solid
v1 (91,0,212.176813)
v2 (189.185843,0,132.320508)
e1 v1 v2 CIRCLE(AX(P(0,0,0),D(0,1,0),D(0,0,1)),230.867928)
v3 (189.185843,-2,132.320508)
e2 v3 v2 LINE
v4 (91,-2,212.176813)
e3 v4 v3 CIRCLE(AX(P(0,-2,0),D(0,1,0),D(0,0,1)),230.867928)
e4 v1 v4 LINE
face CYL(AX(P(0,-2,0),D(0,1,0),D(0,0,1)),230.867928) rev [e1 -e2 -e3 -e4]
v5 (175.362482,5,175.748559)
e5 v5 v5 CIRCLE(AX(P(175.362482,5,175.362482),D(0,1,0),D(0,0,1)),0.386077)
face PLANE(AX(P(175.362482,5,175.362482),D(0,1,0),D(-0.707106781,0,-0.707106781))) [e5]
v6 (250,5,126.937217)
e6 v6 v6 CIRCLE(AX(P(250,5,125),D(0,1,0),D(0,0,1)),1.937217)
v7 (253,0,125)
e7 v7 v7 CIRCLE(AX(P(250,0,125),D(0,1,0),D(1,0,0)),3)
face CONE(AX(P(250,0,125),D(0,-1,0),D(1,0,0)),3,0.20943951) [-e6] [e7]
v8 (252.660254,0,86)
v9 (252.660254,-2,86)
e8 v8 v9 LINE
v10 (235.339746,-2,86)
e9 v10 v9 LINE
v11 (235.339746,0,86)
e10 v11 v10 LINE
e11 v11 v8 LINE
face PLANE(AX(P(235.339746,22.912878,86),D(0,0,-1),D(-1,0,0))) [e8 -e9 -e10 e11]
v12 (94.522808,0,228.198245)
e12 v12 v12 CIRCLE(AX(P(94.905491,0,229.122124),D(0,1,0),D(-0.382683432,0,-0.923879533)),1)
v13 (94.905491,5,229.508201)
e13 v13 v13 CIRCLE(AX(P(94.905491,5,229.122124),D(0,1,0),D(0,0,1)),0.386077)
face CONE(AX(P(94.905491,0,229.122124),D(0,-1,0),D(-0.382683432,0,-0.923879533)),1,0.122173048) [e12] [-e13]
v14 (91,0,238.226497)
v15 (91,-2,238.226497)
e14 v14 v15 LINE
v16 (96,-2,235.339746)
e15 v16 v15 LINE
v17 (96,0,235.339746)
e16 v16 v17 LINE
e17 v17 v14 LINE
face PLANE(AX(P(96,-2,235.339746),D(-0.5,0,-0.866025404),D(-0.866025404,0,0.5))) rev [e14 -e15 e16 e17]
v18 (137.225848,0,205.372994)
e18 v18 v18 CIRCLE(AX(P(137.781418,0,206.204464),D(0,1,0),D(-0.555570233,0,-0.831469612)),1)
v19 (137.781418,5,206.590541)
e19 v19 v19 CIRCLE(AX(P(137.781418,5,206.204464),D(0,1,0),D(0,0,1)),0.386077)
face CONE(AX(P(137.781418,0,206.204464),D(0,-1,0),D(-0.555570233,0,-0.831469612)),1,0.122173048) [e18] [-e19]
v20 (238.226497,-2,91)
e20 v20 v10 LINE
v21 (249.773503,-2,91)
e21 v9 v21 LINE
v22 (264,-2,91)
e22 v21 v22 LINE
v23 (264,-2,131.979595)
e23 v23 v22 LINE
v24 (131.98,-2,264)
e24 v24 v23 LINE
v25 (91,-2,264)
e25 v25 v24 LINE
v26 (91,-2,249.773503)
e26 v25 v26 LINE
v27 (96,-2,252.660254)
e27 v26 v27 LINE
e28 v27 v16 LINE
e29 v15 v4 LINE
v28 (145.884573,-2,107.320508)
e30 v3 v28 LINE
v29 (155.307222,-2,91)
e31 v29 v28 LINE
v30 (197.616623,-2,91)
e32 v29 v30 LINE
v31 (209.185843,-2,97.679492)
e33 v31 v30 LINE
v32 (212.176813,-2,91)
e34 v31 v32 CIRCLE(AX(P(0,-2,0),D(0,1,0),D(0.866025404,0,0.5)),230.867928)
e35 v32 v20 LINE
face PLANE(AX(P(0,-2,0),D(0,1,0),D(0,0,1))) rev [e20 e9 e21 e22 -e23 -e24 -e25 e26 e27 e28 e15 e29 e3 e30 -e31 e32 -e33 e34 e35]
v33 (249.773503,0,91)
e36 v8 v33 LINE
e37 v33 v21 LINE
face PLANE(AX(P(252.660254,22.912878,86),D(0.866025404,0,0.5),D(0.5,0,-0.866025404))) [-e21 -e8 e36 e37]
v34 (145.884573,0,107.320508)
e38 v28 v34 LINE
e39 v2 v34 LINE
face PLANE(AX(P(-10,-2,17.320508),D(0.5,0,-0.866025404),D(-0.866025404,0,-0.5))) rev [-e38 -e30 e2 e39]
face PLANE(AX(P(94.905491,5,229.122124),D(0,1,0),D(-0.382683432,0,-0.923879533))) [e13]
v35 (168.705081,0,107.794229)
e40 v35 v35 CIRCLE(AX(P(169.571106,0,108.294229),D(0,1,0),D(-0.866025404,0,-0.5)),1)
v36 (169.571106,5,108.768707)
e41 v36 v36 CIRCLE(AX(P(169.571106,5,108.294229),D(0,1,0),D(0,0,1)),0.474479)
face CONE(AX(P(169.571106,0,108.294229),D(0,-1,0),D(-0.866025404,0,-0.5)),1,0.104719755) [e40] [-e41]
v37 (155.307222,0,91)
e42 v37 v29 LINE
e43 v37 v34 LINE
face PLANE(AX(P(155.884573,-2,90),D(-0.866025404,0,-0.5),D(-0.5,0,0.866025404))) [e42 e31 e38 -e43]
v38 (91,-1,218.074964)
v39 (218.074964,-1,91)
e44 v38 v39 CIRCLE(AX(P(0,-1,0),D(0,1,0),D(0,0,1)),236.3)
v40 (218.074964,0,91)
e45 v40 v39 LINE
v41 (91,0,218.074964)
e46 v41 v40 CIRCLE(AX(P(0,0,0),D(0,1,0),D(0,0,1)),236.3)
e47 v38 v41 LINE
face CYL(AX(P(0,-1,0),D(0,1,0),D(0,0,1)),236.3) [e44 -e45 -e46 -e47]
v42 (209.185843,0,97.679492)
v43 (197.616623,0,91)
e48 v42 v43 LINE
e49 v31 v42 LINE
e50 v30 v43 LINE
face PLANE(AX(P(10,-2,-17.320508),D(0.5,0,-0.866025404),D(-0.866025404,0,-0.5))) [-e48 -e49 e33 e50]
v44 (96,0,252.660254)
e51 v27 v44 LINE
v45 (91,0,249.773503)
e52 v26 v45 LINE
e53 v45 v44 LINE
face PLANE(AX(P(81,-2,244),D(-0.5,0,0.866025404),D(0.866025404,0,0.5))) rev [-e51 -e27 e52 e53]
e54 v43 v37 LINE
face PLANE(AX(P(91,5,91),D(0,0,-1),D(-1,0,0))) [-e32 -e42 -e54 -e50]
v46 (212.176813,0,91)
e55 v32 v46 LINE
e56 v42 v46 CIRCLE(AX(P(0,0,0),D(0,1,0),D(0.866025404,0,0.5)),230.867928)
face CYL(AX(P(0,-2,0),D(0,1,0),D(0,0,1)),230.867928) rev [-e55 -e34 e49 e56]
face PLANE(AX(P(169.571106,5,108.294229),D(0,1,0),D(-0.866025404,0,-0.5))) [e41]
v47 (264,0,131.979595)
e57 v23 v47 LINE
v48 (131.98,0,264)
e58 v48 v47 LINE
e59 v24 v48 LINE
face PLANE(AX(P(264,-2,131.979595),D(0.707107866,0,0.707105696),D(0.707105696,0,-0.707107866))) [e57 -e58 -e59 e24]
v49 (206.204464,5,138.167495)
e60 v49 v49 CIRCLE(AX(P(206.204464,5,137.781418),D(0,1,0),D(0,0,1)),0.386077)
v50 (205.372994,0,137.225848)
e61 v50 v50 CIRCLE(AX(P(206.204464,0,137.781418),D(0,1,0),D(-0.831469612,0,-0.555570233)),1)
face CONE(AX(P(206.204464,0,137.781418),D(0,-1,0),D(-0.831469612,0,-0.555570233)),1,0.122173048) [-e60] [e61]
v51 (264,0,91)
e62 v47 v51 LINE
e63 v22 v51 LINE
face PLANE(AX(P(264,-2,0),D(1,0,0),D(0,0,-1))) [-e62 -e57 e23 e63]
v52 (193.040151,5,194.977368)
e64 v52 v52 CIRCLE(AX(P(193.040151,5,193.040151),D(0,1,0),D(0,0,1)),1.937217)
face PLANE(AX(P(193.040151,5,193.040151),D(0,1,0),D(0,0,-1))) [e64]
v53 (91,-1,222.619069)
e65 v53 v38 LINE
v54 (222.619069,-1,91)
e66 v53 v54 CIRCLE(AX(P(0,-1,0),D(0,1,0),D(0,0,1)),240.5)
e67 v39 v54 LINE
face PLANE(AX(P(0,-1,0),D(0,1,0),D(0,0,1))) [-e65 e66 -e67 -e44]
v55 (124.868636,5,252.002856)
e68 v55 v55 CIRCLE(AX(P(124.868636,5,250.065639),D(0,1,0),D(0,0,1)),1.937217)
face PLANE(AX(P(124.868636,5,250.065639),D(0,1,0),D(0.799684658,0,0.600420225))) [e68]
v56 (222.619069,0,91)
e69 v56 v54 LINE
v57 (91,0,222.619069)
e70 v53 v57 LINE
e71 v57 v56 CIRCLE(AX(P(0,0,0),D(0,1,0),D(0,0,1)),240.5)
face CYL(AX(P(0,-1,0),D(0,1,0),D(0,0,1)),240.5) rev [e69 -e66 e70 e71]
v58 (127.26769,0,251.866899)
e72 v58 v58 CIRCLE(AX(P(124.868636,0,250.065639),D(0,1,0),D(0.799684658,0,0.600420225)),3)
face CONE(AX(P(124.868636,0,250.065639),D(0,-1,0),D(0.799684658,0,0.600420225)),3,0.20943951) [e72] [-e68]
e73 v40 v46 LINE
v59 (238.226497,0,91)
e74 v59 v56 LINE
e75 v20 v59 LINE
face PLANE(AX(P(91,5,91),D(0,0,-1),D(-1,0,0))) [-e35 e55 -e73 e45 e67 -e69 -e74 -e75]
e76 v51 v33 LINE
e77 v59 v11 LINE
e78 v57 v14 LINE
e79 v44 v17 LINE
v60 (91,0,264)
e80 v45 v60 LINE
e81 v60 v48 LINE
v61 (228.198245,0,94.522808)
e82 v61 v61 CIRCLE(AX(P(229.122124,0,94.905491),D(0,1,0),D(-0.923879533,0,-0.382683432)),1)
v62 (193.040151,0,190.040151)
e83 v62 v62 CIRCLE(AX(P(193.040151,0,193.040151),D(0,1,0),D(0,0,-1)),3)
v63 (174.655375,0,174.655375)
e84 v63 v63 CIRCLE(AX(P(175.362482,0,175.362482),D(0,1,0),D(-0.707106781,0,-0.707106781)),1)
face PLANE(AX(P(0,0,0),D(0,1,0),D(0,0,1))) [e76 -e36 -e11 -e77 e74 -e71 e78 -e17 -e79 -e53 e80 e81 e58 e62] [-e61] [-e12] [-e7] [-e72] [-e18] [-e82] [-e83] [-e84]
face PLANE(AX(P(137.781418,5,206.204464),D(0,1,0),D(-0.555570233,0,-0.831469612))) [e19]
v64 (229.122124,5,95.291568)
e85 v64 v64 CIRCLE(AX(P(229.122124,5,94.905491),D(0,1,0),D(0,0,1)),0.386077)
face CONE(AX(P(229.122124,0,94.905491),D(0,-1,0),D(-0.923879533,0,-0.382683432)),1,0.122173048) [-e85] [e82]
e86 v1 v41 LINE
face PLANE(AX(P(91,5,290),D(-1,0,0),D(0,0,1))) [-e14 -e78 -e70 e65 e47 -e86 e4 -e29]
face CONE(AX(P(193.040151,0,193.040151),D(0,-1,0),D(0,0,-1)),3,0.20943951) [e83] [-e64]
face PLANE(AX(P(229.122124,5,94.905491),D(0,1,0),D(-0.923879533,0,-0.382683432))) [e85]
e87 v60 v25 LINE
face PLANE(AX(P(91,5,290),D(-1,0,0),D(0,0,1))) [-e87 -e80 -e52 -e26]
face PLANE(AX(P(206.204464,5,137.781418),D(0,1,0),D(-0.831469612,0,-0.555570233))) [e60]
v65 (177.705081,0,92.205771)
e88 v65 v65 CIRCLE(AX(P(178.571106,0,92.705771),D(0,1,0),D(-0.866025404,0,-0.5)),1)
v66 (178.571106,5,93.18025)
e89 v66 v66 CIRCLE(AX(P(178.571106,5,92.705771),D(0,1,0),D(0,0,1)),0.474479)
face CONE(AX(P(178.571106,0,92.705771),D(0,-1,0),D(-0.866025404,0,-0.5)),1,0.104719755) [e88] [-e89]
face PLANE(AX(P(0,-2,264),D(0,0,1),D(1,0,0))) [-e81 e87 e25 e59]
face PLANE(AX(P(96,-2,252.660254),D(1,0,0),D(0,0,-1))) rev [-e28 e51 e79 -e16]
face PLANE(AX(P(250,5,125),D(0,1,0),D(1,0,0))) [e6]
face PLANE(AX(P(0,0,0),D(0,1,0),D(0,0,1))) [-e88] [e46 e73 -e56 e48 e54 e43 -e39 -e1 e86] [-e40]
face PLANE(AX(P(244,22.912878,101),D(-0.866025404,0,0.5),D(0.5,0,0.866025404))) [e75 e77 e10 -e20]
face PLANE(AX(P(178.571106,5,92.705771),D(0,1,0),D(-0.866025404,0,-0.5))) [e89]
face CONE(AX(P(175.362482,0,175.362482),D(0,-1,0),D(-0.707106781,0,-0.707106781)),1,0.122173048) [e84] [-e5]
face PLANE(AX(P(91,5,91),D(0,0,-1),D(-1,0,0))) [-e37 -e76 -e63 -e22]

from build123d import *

# Parameters (mm, degrees)
BASEPLATE_PROFILE_DEPTH               = 2
SKETCH2_R                             = 1
M3_PINS_DEPTH                         = 5
M3_PINS_TAPER                         = 7
CIRPATTERN1_COUNT                     = 32
SKETCH4_R                             = 1
PILLAR_PINS_DEPTH                     = 5
PILLAR_PINS_DRAFT                     = 6
PILLAR_PINS_PROFILE_2_DEPTH           = 5
PILLAR_PINS_PROFILE_2_DRAFT           = 6
CIRPATTERN2_COPY_1_SKETCH_R           = 1
CIRPATTERN2_COPY_1_DEPTH              = 5
CIRPATTERN2_COPY_1_DRAFT              = 6
CIRPATTERN2_COPY_2_SKETCH_R           = 1
CIRPATTERN2_COPY_2_DEPTH              = 5
CIRPATTERN2_COPY_2_DRAFT              = 6
CIRPATTERN2_COPY_3_SKETCH_R           = 1
CIRPATTERN2_COPY_3_DEPTH              = 5
CIRPATTERN2_COPY_3_DRAFT              = 6
CIRPATTERN2_COPY_4_SKETCH_R           = 1
CIRPATTERN2_COPY_4_DEPTH              = 5
CIRPATTERN2_COPY_4_DRAFT              = 6
CIRPATTERN2_COPY_5_SKETCH_R           = 1
CIRPATTERN2_COPY_5_DEPTH              = 5
CIRPATTERN2_COPY_5_DRAFT              = 6
CIRPATTERN2_COPY_6_SKETCH_R           = 1
CIRPATTERN2_COPY_6_DEPTH              = 5
CIRPATTERN2_COPY_6_DRAFT              = 6
CIRPATTERN2_COPY_7_SKETCH_R           = 1
CIRPATTERN2_COPY_7_DEPTH              = 5
CIRPATTERN2_COPY_7_DRAFT              = 6
CIRPATTERN2_COPY_8_SKETCH_R           = 1
CIRPATTERN2_COPY_8_DEPTH              = 5
CIRPATTERN2_COPY_8_DRAFT              = 6
CIRPATTERN2_COPY_9_SKETCH_R           = 1
CIRPATTERN2_COPY_9_DEPTH              = 5
CIRPATTERN2_COPY_9_DRAFT              = 6
CIRPATTERN2_COPY_10_SKETCH_R          = 1
CIRPATTERN2_COPY_10_DEPTH             = 5
CIRPATTERN2_COPY_10_DRAFT             = 6
CIRPATTERN2_COPY_11_SKETCH_R          = 1
CIRPATTERN2_COPY_11_DEPTH             = 5
CIRPATTERN2_COPY_11_DRAFT             = 6
CIRPATTERN2_COPY_12_SKETCH_R          = 1
CIRPATTERN2_COPY_12_DEPTH             = 5
CIRPATTERN2_COPY_12_DRAFT             = 6
CIRPATTERN2_COPY_13_SKETCH_R          = 1
CIRPATTERN2_COPY_13_DEPTH             = 5
CIRPATTERN2_COPY_13_DRAFT             = 6
CIRPATTERN2_COPY_14_SKETCH_R          = 1
CIRPATTERN2_COPY_14_DEPTH             = 5
CIRPATTERN2_COPY_14_DRAFT             = 6
CIRPATTERN2_COPY_15_SKETCH_R          = 1
CIRPATTERN2_COPY_15_DEPTH             = 5
CIRPATTERN2_COPY_15_DRAFT             = 6
SKETCH5_R                             = 3
M8_HOLE_1_DEPTH                       = 5
M8_HOLE_1_TAPER                       = 12
M8_1_PATTERN_COUNT                    = 4
SKETCH6_R                             = 3
EXTRUDE_M8_2_DEPTH                    = 5
EXTRUDE_M8_2_TAPER                    = 12
M8_2_PATTERN_COUNT                    = 4
PATTERN_CIRCULAR_M8_3_COUNT           = 2
PATTERN_CIRCULAR_M8_3_ANGLE           = 36.9
PATTERN_CIRCULAR_M8_3_COPY_1_SKETCH_R = 3
PATTERN_CIRCULAR_M8_3_COPY_1_DEPTH    = 5
PATTERN_CIRCULAR_M8_3_COPY_1_TAPER    = 12
PATTERN_CIRCULAR_M8_3_COPY_2_SKETCH_R = 3
PATTERN_CIRCULAR_M8_3_COPY_2_DEPTH    = 5
PATTERN_CIRCULAR_M8_3_COPY_2_TAPER    = 12
PATTERN_CIRCULAR_M8_3_COPY_3_SKETCH_R = 3
PATTERN_CIRCULAR_M8_3_COPY_3_DEPTH    = 5
PATTERN_CIRCULAR_M8_3_COPY_3_TAPER    = 12
CUT_CENTER_DEPTH                      = 374.385859402
CIRPATTERN7_COUNT                     = 6
SKETCH16_W                            = 706.015434107
SKETCH16_H                            = 962.246603821
SKETCH16_W_2                          = 199
SKETCH16_H_2                          = 199
CUT_EXTRUDE4_DEPTH                    = 374.417996354
CUT_EXTRUDE5_DEPTH                    = 374.385859402
BOSS_EXTRUDE3_DEPTH                   = 2
SKETCH20_R                            = 240.5
SKETCH20_R_2                          = 236.3
CUT_EXTRUDE6_DEPTH                    = 1


with BuildPart() as part:
    # Sketch1 → baseplate profile (new body)
    with BuildSketch(Plane(origin=(0, 0, 0), x_dir=(1, 0, 0), z_dir=(0, 1, 0))):
        Polygon((264, 0), (264, 131.98), (131.979594929, 264), (0, 264), (-131.98, 264), (-264, 131.979594929), (-264, 0), (-264, -131.98), (-131.979594929, -264), (0, -264), (131.98, -264), (264, -131.979594929), align=None)
    extrude(amount=-BASEPLATE_PROFILE_DEPTH)

    # Sketch2 → M3 pins (add)
    with BuildSketch(Plane(origin=(0, 0, 0), x_dir=(1, 0, 0), z_dir=(0, 1, 0))):
        with Locations((0, 248)):
            Circle(SKETCH2_R)
    m3_pins = extrude(amount=M3_PINS_DEPTH, taper=M3_PINS_TAPER)

    # CirPattern1: M3 pins ×32 about axis
    cirpattern1_axis = Axis((0, 0, 0), (0, 1, 0))
    for i in range(1, CIRPATTERN1_COUNT):
        add(m3_pins.rotate(cirpattern1_axis, i * 360 / CIRPATTERN1_COUNT))


with BuildPart() as pillar_pins_tool:
    # Sketch4 → pillar pins (with draft: the straight prism first)
    with BuildSketch(Plane(origin=(0, 0, 0), x_dir=(1, 0, 0), z_dir=(0, 1, 0))):
        with Locations((9, 201)):
            Circle(SKETCH4_R)
    extrude(amount=PILLAR_PINS_DEPTH)
    # pillar pins: the draft: its side faces are tilted about the plane it starts from
    pillar_pins_sides = [pillar_pins_tool.faces().sort_by_distance(p)[0] for p in [
        (8, 2.5, -201),
    ]]
    draft(pillar_pins_sides, Plane(origin=(0, 0, 0), x_dir=(1, 0, 0), z_dir=(0, 1, 0)), PILLAR_PINS_DRAFT)


with BuildPart() as part_1:
    add(part.part)

    # pillar pins: add pillar_pins_tool
    add(pillar_pins_tool.part)


with BuildPart() as pillar_pins_profile_2_tool:
    # Sketch4 → pillar pins profile 2 (with draft: the straight prism first)
    with BuildSketch(Plane(origin=(0, 0, 0), x_dir=(1, 0, 0), z_dir=(0, 1, 0))):
        with Locations((-9, 201)):
            Circle(SKETCH4_R)
    extrude(amount=PILLAR_PINS_PROFILE_2_DEPTH)
    # pillar pins profile 2: the draft: its side faces are tilted about the plane it starts from
    pillar_pins_profile_2_sides = [pillar_pins_profile_2_tool.faces().sort_by_distance(p)[0] for p in [
        (-10, 2.5, -201),
    ]]
    draft(pillar_pins_profile_2_sides, Plane(origin=(0, 0, 0), x_dir=(1, 0, 0), z_dir=(0, 1, 0)), PILLAR_PINS_PROFILE_2_DRAFT)


with BuildPart() as part_2:
    add(part_1.part)

    # pillar pins profile 2: add pillar_pins_profile_2_tool
    add(pillar_pins_profile_2_tool.part)


with BuildPart() as cirpattern2_copy_1_tool:
    # CirPattern2 copy 1 sketch → CirPattern2 copy 1 (with draft: the straight prism first)
    with BuildSketch(Plane(origin=(0, 0, 0), x_dir=(0.5000000000000001, 0, -0.8660254037844386), z_dir=(0, 1, 0))):
        with Locations((9, 201)):
            Circle(CIRPATTERN2_COPY_1_SKETCH_R)
    extrude(amount=CIRPATTERN2_COPY_1_DEPTH)
    # CirPattern2 copy 1: the draft: its side faces are tilted about the plane it starts from
    cirpattern2_copy_1_sides = [cirpattern2_copy_1_tool.faces().sort_by_distance(p)[0] for p in [
        (-170.071106161, 2.5, -107.42820323),
    ]]
    draft(cirpattern2_copy_1_sides, Plane(origin=(0, 0, 0), x_dir=(0.5000000000000001, 0, -0.8660254037844386), z_dir=(0, 1, 0)), CIRPATTERN2_COPY_1_DRAFT)


with BuildPart() as part_3:
    add(part_2.part)

    # CirPattern2 copy 1: add cirpattern2_copy_1_tool
    add(cirpattern2_copy_1_tool.part)


with BuildPart() as cirpattern2_copy_2_tool:
    # CirPattern2 copy 2 sketch → CirPattern2 copy 2 (with draft: the straight prism first)
    with BuildSketch(Plane(origin=(0, 0, 0), x_dir=(-0.4999999999999998, 0, -0.8660254037844387), z_dir=(0, 1, 0))):
        with Locations((9, 201)):
            Circle(CIRPATTERN2_COPY_2_SKETCH_R)
    extrude(amount=CIRPATTERN2_COPY_2_DEPTH)
    # CirPattern2 copy 2: the draft: its side faces are tilted about the plane it starts from
    cirpattern2_copy_2_sides = [cirpattern2_copy_2_tool.faces().sort_by_distance(p)[0] for p in [
        (-178.071106161, 2.5, 93.57179677),
    ]]
    draft(cirpattern2_copy_2_sides, Plane(origin=(0, 0, 0), x_dir=(-0.4999999999999998, 0, -0.8660254037844387), z_dir=(0, 1, 0)), CIRPATTERN2_COPY_2_DRAFT)


with BuildPart() as part_4:
    add(part_3.part)

    # CirPattern2 copy 2: add cirpattern2_copy_2_tool
    add(cirpattern2_copy_2_tool.part)


with BuildPart() as cirpattern2_copy_3_tool:
    # CirPattern2 copy 3 sketch → CirPattern2 copy 3 (with draft: the straight prism first)
    with BuildSketch(Plane(origin=(0, 0, 0), x_dir=(-1, 0, 0), z_dir=(0, 1, 0))):
        with Locations((9, 201)):
            Circle(CIRPATTERN2_COPY_3_SKETCH_R)
    extrude(amount=CIRPATTERN2_COPY_3_DEPTH)
    # CirPattern2 copy 3: the draft: its side faces are tilted about the plane it starts from
    cirpattern2_copy_3_sides = [cirpattern2_copy_3_tool.faces().sort_by_distance(p)[0] for p in [
        (-8, 2.5, 201),
    ]]
    draft(cirpattern2_copy_3_sides, Plane(origin=(0, 0, 0), x_dir=(-1, 0, 0), z_dir=(0, 1, 0)), CIRPATTERN2_COPY_3_DRAFT)


with BuildPart() as part_5:
    add(part_4.part)

    # CirPattern2 copy 3: add cirpattern2_copy_3_tool
    add(cirpattern2_copy_3_tool.part)


with BuildPart() as cirpattern2_copy_4_tool:
    # CirPattern2 copy 4 sketch → CirPattern2 copy 4 (with draft: the straight prism first)
    with BuildSketch(Plane(origin=(0, 0, 0), x_dir=(-0.5000000000000004, 0, 0.8660254037844384), z_dir=(0, 1, 0))):
        with Locations((9, 201)):
            Circle(CIRPATTERN2_COPY_4_SKETCH_R)
    extrude(amount=CIRPATTERN2_COPY_4_DEPTH)
    # CirPattern2 copy 4: the draft: its side faces are tilted about the plane it starts from
    cirpattern2_copy_4_sides = [cirpattern2_copy_4_tool.faces().sort_by_distance(p)[0] for p in [
        (170.071106161, 2.5, 107.42820323),
    ]]
    draft(cirpattern2_copy_4_sides, Plane(origin=(0, 0, 0), x_dir=(-0.5000000000000004, 0, 0.8660254037844384), z_dir=(0, 1, 0)), CIRPATTERN2_COPY_4_DRAFT)


with BuildPart() as part_6:
    add(part_5.part)

    # CirPattern2 copy 4: add cirpattern2_copy_4_tool
    add(cirpattern2_copy_4_tool.part)


with BuildPart() as cirpattern2_copy_5_tool:
    # CirPattern2 copy 5 sketch → CirPattern2 copy 5 (with draft: the straight prism first)
    with BuildSketch(Plane(origin=(0, 0, 0), x_dir=(0.5000000000000001, 0, 0.8660254037844386), z_dir=(0, 1, 0))):
        with Locations((9, 201)):
            Circle(CIRPATTERN2_COPY_5_SKETCH_R)
    extrude(amount=CIRPATTERN2_COPY_5_DEPTH)
    # CirPattern2 copy 5: the draft: its side faces are tilted about the plane it starts from
    cirpattern2_copy_5_sides = [cirpattern2_copy_5_tool.faces().sort_by_distance(p)[0] for p in [
        (178.071106161, 2.5, -93.57179677),
    ]]
    draft(cirpattern2_copy_5_sides, Plane(origin=(0, 0, 0), x_dir=(0.5000000000000001, 0, 0.8660254037844386), z_dir=(0, 1, 0)), CIRPATTERN2_COPY_5_DRAFT)


with BuildPart() as part_7:
    add(part_6.part)

    # CirPattern2 copy 5: add cirpattern2_copy_5_tool
    add(cirpattern2_copy_5_tool.part)


with BuildPart() as cirpattern2_copy_6_tool:
    # CirPattern2 copy 6 sketch → CirPattern2 copy 6 (with draft: the straight prism first)
    with BuildSketch(Plane(origin=(0, 0, 0), x_dir=(0.5000000000000001, 0, -0.8660254037844386), z_dir=(0, 1, 0))):
        with Locations((-9, 201)):
            Circle(CIRPATTERN2_COPY_6_SKETCH_R)
    extrude(amount=CIRPATTERN2_COPY_6_DEPTH)
    # CirPattern2 copy 6: the draft: its side faces are tilted about the plane it starts from
    cirpattern2_copy_6_sides = [cirpattern2_copy_6_tool.faces().sort_by_distance(p)[0] for p in [
        (-179.071106161, 2.5, -91.839745962),
    ]]
    draft(cirpattern2_copy_6_sides, Plane(origin=(0, 0, 0), x_dir=(0.5000000000000001, 0, -0.8660254037844386), z_dir=(0, 1, 0)), CIRPATTERN2_COPY_6_DRAFT)


with BuildPart() as part_8:
    add(part_7.part)

    # CirPattern2 copy 6: add cirpattern2_copy_6_tool
    add(cirpattern2_copy_6_tool.part)


with BuildPart() as cirpattern2_copy_7_tool:
    # CirPattern2 copy 7 sketch → CirPattern2 copy 7 (with draft: the straight prism first)
    with BuildSketch(Plane(origin=(0, 0, 0), x_dir=(-0.4999999999999998, 0, -0.8660254037844387), z_dir=(0, 1, 0))):
        with Locations((-9, 201)):
            Circle(CIRPATTERN2_COPY_7_SKETCH_R)
    extrude(amount=CIRPATTERN2_COPY_7_DEPTH)
    # CirPattern2 copy 7: the draft: its side faces are tilted about the plane it starts from
    cirpattern2_copy_7_sides = [cirpattern2_copy_7_tool.faces().sort_by_distance(p)[0] for p in [
        (-169.071106161, 2.5, 109.160254038),
    ]]
    draft(cirpattern2_copy_7_sides, Plane(origin=(0, 0, 0), x_dir=(-0.4999999999999998, 0, -0.8660254037844387), z_dir=(0, 1, 0)), CIRPATTERN2_COPY_7_DRAFT)


with BuildPart() as part_9:
    add(part_8.part)

    # CirPattern2 copy 7: add cirpattern2_copy_7_tool
    add(cirpattern2_copy_7_tool.part)


with BuildPart() as cirpattern2_copy_8_tool:
    # CirPattern2 copy 8 sketch → CirPattern2 copy 8 (with draft: the straight prism first)
    with BuildSketch(Plane(origin=(0, 0, 0), x_dir=(-1, 0, 0), z_dir=(0, 1, 0))):
        with Locations((-9, 201)):
            Circle(CIRPATTERN2_COPY_8_SKETCH_R)
    extrude(amount=CIRPATTERN2_COPY_8_DEPTH)
    # CirPattern2 copy 8: the draft: its side faces are tilted about the plane it starts from
    cirpattern2_copy_8_sides = [cirpattern2_copy_8_tool.faces().sort_by_distance(p)[0] for p in [
        (10, 2.5, 201),
    ]]
    draft(cirpattern2_copy_8_sides, Plane(origin=(0, 0, 0), x_dir=(-1, 0, 0), z_dir=(0, 1, 0)), CIRPATTERN2_COPY_8_DRAFT)


with BuildPart() as part_10:
    add(part_9.part)

    # CirPattern2 copy 8: add cirpattern2_copy_8_tool
    add(cirpattern2_copy_8_tool.part)


with BuildPart() as cirpattern2_copy_9_tool:
    # CirPattern2 copy 9 sketch → CirPattern2 copy 9 (with draft: the straight prism first)
    with BuildSketch(Plane(origin=(0, 0, 0), x_dir=(-0.5000000000000004, 0, 0.8660254037844384), z_dir=(0, 1, 0))):
        with Locations((-9, 201)):
            Circle(CIRPATTERN2_COPY_9_SKETCH_R)
    extrude(amount=CIRPATTERN2_COPY_9_DEPTH)
    # CirPattern2 copy 9: the draft: its side faces are tilted about the plane it starts from
    cirpattern2_copy_9_sides = [cirpattern2_copy_9_tool.faces().sort_by_distance(p)[0] for p in [
        (179.071106161, 2.5, 91.839745962),
    ]]
    draft(cirpattern2_copy_9_sides, Plane(origin=(0, 0, 0), x_dir=(-0.5000000000000004, 0, 0.8660254037844384), z_dir=(0, 1, 0)), CIRPATTERN2_COPY_9_DRAFT)


with BuildPart() as part_11:
    add(part_10.part)

    # CirPattern2 copy 9: add cirpattern2_copy_9_tool
    add(cirpattern2_copy_9_tool.part)


with BuildPart() as cirpattern2_copy_10_tool:
    # CirPattern2 copy 10 sketch → CirPattern2 copy 10 (with draft: the straight prism first)
    with BuildSketch(Plane(origin=(0, 0, 0), x_dir=(0.5000000000000001, 0, 0.8660254037844386), z_dir=(0, 1, 0))):
        with Locations((-9, 201)):
            Circle(CIRPATTERN2_COPY_10_SKETCH_R)
    extrude(amount=CIRPATTERN2_COPY_10_DEPTH)
    # CirPattern2 copy 10: the draft: its side faces are tilted about the plane it starts from
    cirpattern2_copy_10_sides = [cirpattern2_copy_10_tool.faces().sort_by_distance(p)[0] for p in [
        (169.071106161, 2.5, -109.160254038),
    ]]
    draft(cirpattern2_copy_10_sides, Plane(origin=(0, 0, 0), x_dir=(0.5000000000000001, 0, 0.8660254037844386), z_dir=(0, 1, 0)), CIRPATTERN2_COPY_10_DRAFT)


with BuildPart() as part_12:
    add(part_11.part)

    # CirPattern2 copy 10: add cirpattern2_copy_10_tool
    add(cirpattern2_copy_10_tool.part)


with BuildPart() as cirpattern2_copy_11_tool:
    # CirPattern2 copy 11 sketch → CirPattern2 copy 11 (with draft: the straight prism first)
    with BuildSketch(Plane(origin=(0, 0, 0), x_dir=(0.5000000000000001, 0, -0.8660254037844386), z_dir=(0, 1, 0))):
        with Locations((-9, 201)):
            Circle(CIRPATTERN2_COPY_11_SKETCH_R)
    extrude(amount=CIRPATTERN2_COPY_11_DEPTH)
    # CirPattern2 copy 11: the draft: its side faces are tilted about the plane it starts from
    cirpattern2_copy_11_sides = [cirpattern2_copy_11_tool.faces().sort_by_distance(p)[0] for p in [
        (-179.071106161, 2.5, -91.839745962),
    ]]
    draft(cirpattern2_copy_11_sides, Plane(origin=(0, 0, 0), x_dir=(0.5000000000000001, 0, -0.8660254037844386), z_dir=(0, 1, 0)), CIRPATTERN2_COPY_11_DRAFT)


with BuildPart() as part_13:
    add(part_12.part)

    # CirPattern2 copy 11: add cirpattern2_copy_11_tool
    add(cirpattern2_copy_11_tool.part)


with BuildPart() as cirpattern2_copy_12_tool:
    # CirPattern2 copy 12 sketch → CirPattern2 copy 12 (with draft: the straight prism first)
    with BuildSketch(Plane(origin=(0, 0, 0), x_dir=(-0.4999999999999998, 0, -0.8660254037844387), z_dir=(0, 1, 0))):
        with Locations((-9, 201)):
            Circle(CIRPATTERN2_COPY_12_SKETCH_R)
    extrude(amount=CIRPATTERN2_COPY_12_DEPTH)
    # CirPattern2 copy 12: the draft: its side faces are tilted about the plane it starts from
    cirpattern2_copy_12_sides = [cirpattern2_copy_12_tool.faces().sort_by_distance(p)[0] for p in [
        (-169.071106161, 2.5, 109.160254038),
    ]]
    draft(cirpattern2_copy_12_sides, Plane(origin=(0, 0, 0), x_dir=(-0.4999999999999998, 0, -0.8660254037844387), z_dir=(0, 1, 0)), CIRPATTERN2_COPY_12_DRAFT)


with BuildPart() as part_14:
    add(part_13.part)

    # CirPattern2 copy 12: add cirpattern2_copy_12_tool
    add(cirpattern2_copy_12_tool.part)


with BuildPart() as cirpattern2_copy_13_tool:
    # CirPattern2 copy 13 sketch → CirPattern2 copy 13 (with draft: the straight prism first)
    with BuildSketch(Plane(origin=(0, 0, 0), x_dir=(-1, 0, 0), z_dir=(0, 1, 0))):
        with Locations((-9, 201)):
            Circle(CIRPATTERN2_COPY_13_SKETCH_R)
    extrude(amount=CIRPATTERN2_COPY_13_DEPTH)
    # CirPattern2 copy 13: the draft: its side faces are tilted about the plane it starts from
    cirpattern2_copy_13_sides = [cirpattern2_copy_13_tool.faces().sort_by_distance(p)[0] for p in [
        (10, 2.5, 201),
    ]]
    draft(cirpattern2_copy_13_sides, Plane(origin=(0, 0, 0), x_dir=(-1, 0, 0), z_dir=(0, 1, 0)), CIRPATTERN2_COPY_13_DRAFT)


with BuildPart() as part_15:
    add(part_14.part)

    # CirPattern2 copy 13: add cirpattern2_copy_13_tool
    add(cirpattern2_copy_13_tool.part)


with BuildPart() as cirpattern2_copy_14_tool:
    # CirPattern2 copy 14 sketch → CirPattern2 copy 14 (with draft: the straight prism first)
    with BuildSketch(Plane(origin=(0, 0, 0), x_dir=(-0.5000000000000004, 0, 0.8660254037844384), z_dir=(0, 1, 0))):
        with Locations((-9, 201)):
            Circle(CIRPATTERN2_COPY_14_SKETCH_R)
    extrude(amount=CIRPATTERN2_COPY_14_DEPTH)
    # CirPattern2 copy 14: the draft: its side faces are tilted about the plane it starts from
    cirpattern2_copy_14_sides = [cirpattern2_copy_14_tool.faces().sort_by_distance(p)[0] for p in [
        (179.071106161, 2.5, 91.839745962),
    ]]
    draft(cirpattern2_copy_14_sides, Plane(origin=(0, 0, 0), x_dir=(-0.5000000000000004, 0, 0.8660254037844384), z_dir=(0, 1, 0)), CIRPATTERN2_COPY_14_DRAFT)


with BuildPart() as part_16:
    add(part_15.part)

    # CirPattern2 copy 14: add cirpattern2_copy_14_tool
    add(cirpattern2_copy_14_tool.part)


with BuildPart() as cirpattern2_copy_15_tool:
    # CirPattern2 copy 15 sketch → CirPattern2 copy 15 (with draft: the straight prism first)
    with BuildSketch(Plane(origin=(0, 0, 0), x_dir=(0.5000000000000001, 0, 0.8660254037844386), z_dir=(0, 1, 0))):
        with Locations((-9, 201)):
            Circle(CIRPATTERN2_COPY_15_SKETCH_R)
    extrude(amount=CIRPATTERN2_COPY_15_DEPTH)
    # CirPattern2 copy 15: the draft: its side faces are tilted about the plane it starts from
    cirpattern2_copy_15_sides = [cirpattern2_copy_15_tool.faces().sort_by_distance(p)[0] for p in [
        (169.071106161, 2.5, -109.160254038),
    ]]
    draft(cirpattern2_copy_15_sides, Plane(origin=(0, 0, 0), x_dir=(0.5000000000000001, 0, 0.8660254037844386), z_dir=(0, 1, 0)), CIRPATTERN2_COPY_15_DRAFT)


with BuildPart() as part_17:
    add(part_16.part)

    # CirPattern2 copy 15: add cirpattern2_copy_15_tool
    add(cirpattern2_copy_15_tool.part)

    # Sketch5 → M8 hole -1 (add)
    with BuildSketch(Plane(origin=(0, 0, 0), x_dir=(1, 0, 0), z_dir=(0, 1, 0))):
        with Locations((-193.040151264, 193.040151264)):
            Circle(SKETCH5_R)
    m8_hole_1 = extrude(amount=M8_HOLE_1_DEPTH, taper=M8_HOLE_1_TAPER)

    # M8 -1 pattern: M8 hole -1 ×4 about axis
    m8_1_pattern_axis = Axis((0, 0, 0), (0, 1, 0))
    for i in range(1, M8_1_PATTERN_COUNT):
        add(m8_hole_1.rotate(m8_1_pattern_axis, i * 360 / M8_1_PATTERN_COUNT))

    # Sketch6 → M8 -2 (add)
    with BuildSketch(Plane(origin=(0, 0, 0), x_dir=(1, 0, 0), z_dir=(0, 1, 0))):
        with Locations((-125, -250)):
            Circle(SKETCH6_R)
    extrude_m8_2 = extrude(amount=EXTRUDE_M8_2_DEPTH, taper=EXTRUDE_M8_2_TAPER)

    # M8 -2 pattern: M8 -2 ×4 about axis
    m8_2_pattern_axis = Axis((0, 0, 0), (0, 1, 0))
    for i in range(1, M8_2_PATTERN_COUNT):
        add(extrude_m8_2.rotate(m8_2_pattern_axis, i * 360 / M8_2_PATTERN_COUNT))

    # M8 -3: M8 -2 ×2 about axis
    pattern_circular_m8_3_axis = Axis((0, 0, 0), (0, -1, 0))
    for i in range(1, PATTERN_CIRCULAR_M8_3_COUNT):
        add(extrude_m8_2.rotate(pattern_circular_m8_3_axis, i * PATTERN_CIRCULAR_M8_3_ANGLE / (PATTERN_CIRCULAR_M8_3_COUNT - 1)))

    # M8 -3 copy 1 sketch → M8 -3 copy 1 (add)
    with BuildSketch(Plane(origin=(0, 0, 0), x_dir=(0.6004202253258852, 0, -0.7996846584870897), z_dir=(0, 1, 0))):
        with Locations((-125, -250)):
            Circle(PATTERN_CIRCULAR_M8_3_COPY_1_SKETCH_R)
    extrude(amount=PATTERN_CIRCULAR_M8_3_COPY_1_DEPTH, taper=PATTERN_CIRCULAR_M8_3_COPY_1_TAPER)

    # M8 -3 copy 2 sketch → M8 -3 copy 2 (add)
    with BuildSketch(Plane(origin=(0, 0, 0), x_dir=(-0.7996846584870896, 0, -0.6004202253258853), z_dir=(0, 1, 0))):
        with Locations((-125, -250)):
            Circle(PATTERN_CIRCULAR_M8_3_COPY_2_SKETCH_R)
    extrude(amount=PATTERN_CIRCULAR_M8_3_COPY_2_DEPTH, taper=PATTERN_CIRCULAR_M8_3_COPY_2_TAPER)

    # M8 -3 copy 3 sketch → M8 -3 copy 3 (add)
    with BuildSketch(Plane(origin=(0, 0, 0), x_dir=(-0.6004202253258853, 0, 0.7996846584870896), z_dir=(0, 1, 0))):
        with Locations((-125, -250)):
            Circle(PATTERN_CIRCULAR_M8_3_COPY_3_SKETCH_R)
    extrude(amount=PATTERN_CIRCULAR_M8_3_COPY_3_DEPTH, taper=PATTERN_CIRCULAR_M8_3_COPY_3_TAPER)

    # Sketch8 → cut center (cut, through all)
    with BuildSketch(Plane(origin=(0, 0, 0), x_dir=(1, 0, 0), z_dir=(0, 1, 0))):
        with BuildLine():
            Line((115.433963806, -199.937490231), (0, 0))
            Line((0, 0), (0, -180))
            Line((0, -180), (20, -180))
            Line((20, -180), (20, -230))
            ThreePointArc((20, -230), (69.365180469, -220.200980331), (115.433963806, -199.937490231))
        make_face()
        with BuildLine():
            Line((0, -180), (0, 0))
            Line((0, 0), (-115.433963806, -199.937490231))
            ThreePointArc((-115.433963806, -199.937490231), (-69.365180469, -220.200980331), (-20, -230))
            Line((-20, -230), (-20, -180))
            Line((-20, -180), (0, -180))
        make_face()
    cut_center = extrude(amount=-CUT_CENTER_DEPTH, mode=Mode.SUBTRACT)

    # CirPattern7: cut center ×6 about axis
    cirpattern7_axis = Axis((0, 0, 0), (0, 1, 0))
    for i in range(1, CIRPATTERN7_COUNT):
        add(cut_center.rotate(cirpattern7_axis, i * 360 / CIRPATTERN7_COUNT), mode=Mode.SUBTRACT)

    # Sketch16 → Cut-Extrude4 (cut, through all)
    with BuildSketch(Plane.XZ.offset(2)):
        with Locations((12.105337572, -26.075320592)):
            Rectangle(SKETCH16_W, SKETCH16_H)
        with Locations((190.5, 190.5)):
            Rectangle(SKETCH16_W_2, SKETCH16_H_2, mode=Mode.SUBTRACT)
    extrude(amount=-CUT_EXTRUDE4_DEPTH, mode=Mode.SUBTRACT)

    # Sketch17 → Cut-Extrude5 (cut, through all)
    with BuildSketch(Plane(origin=(0, 0, 0), x_dir=(1, 0, 0), z_dir=(0, 1, 0))):
        Polygon((81, -244), (96, -252.660254038), (96, -235.339745962), align=None)
    extrude(amount=-CUT_EXTRUDE5_DEPTH, mode=Mode.SUBTRACT)

    # Sketch19 → Boss-Extrude3 (add)
    with BuildSketch(Plane(origin=(0, -2, 0), x_dir=(-1, 0, 0), z_dir=(0, -1, 0))):
        Polygon((-235.339745962, -86), (-252.660254038, -86), (-244, -101), align=None)
    extrude(amount=-BOSS_EXTRUDE3_DEPTH)

    # Sketch20 → Cut-Extrude6 (cut)
    with BuildSketch(Plane(origin=(0, 0, 0), x_dir=(1, 0, 0), z_dir=(0, 1, 0))):
        Circle(SKETCH20_R)
        Circle(SKETCH20_R_2, mode=Mode.SUBTRACT)
    extrude(amount=-CUT_EXTRUDE6_DEPTH, mode=Mode.SUBTRACT)


solid = part_17.part
